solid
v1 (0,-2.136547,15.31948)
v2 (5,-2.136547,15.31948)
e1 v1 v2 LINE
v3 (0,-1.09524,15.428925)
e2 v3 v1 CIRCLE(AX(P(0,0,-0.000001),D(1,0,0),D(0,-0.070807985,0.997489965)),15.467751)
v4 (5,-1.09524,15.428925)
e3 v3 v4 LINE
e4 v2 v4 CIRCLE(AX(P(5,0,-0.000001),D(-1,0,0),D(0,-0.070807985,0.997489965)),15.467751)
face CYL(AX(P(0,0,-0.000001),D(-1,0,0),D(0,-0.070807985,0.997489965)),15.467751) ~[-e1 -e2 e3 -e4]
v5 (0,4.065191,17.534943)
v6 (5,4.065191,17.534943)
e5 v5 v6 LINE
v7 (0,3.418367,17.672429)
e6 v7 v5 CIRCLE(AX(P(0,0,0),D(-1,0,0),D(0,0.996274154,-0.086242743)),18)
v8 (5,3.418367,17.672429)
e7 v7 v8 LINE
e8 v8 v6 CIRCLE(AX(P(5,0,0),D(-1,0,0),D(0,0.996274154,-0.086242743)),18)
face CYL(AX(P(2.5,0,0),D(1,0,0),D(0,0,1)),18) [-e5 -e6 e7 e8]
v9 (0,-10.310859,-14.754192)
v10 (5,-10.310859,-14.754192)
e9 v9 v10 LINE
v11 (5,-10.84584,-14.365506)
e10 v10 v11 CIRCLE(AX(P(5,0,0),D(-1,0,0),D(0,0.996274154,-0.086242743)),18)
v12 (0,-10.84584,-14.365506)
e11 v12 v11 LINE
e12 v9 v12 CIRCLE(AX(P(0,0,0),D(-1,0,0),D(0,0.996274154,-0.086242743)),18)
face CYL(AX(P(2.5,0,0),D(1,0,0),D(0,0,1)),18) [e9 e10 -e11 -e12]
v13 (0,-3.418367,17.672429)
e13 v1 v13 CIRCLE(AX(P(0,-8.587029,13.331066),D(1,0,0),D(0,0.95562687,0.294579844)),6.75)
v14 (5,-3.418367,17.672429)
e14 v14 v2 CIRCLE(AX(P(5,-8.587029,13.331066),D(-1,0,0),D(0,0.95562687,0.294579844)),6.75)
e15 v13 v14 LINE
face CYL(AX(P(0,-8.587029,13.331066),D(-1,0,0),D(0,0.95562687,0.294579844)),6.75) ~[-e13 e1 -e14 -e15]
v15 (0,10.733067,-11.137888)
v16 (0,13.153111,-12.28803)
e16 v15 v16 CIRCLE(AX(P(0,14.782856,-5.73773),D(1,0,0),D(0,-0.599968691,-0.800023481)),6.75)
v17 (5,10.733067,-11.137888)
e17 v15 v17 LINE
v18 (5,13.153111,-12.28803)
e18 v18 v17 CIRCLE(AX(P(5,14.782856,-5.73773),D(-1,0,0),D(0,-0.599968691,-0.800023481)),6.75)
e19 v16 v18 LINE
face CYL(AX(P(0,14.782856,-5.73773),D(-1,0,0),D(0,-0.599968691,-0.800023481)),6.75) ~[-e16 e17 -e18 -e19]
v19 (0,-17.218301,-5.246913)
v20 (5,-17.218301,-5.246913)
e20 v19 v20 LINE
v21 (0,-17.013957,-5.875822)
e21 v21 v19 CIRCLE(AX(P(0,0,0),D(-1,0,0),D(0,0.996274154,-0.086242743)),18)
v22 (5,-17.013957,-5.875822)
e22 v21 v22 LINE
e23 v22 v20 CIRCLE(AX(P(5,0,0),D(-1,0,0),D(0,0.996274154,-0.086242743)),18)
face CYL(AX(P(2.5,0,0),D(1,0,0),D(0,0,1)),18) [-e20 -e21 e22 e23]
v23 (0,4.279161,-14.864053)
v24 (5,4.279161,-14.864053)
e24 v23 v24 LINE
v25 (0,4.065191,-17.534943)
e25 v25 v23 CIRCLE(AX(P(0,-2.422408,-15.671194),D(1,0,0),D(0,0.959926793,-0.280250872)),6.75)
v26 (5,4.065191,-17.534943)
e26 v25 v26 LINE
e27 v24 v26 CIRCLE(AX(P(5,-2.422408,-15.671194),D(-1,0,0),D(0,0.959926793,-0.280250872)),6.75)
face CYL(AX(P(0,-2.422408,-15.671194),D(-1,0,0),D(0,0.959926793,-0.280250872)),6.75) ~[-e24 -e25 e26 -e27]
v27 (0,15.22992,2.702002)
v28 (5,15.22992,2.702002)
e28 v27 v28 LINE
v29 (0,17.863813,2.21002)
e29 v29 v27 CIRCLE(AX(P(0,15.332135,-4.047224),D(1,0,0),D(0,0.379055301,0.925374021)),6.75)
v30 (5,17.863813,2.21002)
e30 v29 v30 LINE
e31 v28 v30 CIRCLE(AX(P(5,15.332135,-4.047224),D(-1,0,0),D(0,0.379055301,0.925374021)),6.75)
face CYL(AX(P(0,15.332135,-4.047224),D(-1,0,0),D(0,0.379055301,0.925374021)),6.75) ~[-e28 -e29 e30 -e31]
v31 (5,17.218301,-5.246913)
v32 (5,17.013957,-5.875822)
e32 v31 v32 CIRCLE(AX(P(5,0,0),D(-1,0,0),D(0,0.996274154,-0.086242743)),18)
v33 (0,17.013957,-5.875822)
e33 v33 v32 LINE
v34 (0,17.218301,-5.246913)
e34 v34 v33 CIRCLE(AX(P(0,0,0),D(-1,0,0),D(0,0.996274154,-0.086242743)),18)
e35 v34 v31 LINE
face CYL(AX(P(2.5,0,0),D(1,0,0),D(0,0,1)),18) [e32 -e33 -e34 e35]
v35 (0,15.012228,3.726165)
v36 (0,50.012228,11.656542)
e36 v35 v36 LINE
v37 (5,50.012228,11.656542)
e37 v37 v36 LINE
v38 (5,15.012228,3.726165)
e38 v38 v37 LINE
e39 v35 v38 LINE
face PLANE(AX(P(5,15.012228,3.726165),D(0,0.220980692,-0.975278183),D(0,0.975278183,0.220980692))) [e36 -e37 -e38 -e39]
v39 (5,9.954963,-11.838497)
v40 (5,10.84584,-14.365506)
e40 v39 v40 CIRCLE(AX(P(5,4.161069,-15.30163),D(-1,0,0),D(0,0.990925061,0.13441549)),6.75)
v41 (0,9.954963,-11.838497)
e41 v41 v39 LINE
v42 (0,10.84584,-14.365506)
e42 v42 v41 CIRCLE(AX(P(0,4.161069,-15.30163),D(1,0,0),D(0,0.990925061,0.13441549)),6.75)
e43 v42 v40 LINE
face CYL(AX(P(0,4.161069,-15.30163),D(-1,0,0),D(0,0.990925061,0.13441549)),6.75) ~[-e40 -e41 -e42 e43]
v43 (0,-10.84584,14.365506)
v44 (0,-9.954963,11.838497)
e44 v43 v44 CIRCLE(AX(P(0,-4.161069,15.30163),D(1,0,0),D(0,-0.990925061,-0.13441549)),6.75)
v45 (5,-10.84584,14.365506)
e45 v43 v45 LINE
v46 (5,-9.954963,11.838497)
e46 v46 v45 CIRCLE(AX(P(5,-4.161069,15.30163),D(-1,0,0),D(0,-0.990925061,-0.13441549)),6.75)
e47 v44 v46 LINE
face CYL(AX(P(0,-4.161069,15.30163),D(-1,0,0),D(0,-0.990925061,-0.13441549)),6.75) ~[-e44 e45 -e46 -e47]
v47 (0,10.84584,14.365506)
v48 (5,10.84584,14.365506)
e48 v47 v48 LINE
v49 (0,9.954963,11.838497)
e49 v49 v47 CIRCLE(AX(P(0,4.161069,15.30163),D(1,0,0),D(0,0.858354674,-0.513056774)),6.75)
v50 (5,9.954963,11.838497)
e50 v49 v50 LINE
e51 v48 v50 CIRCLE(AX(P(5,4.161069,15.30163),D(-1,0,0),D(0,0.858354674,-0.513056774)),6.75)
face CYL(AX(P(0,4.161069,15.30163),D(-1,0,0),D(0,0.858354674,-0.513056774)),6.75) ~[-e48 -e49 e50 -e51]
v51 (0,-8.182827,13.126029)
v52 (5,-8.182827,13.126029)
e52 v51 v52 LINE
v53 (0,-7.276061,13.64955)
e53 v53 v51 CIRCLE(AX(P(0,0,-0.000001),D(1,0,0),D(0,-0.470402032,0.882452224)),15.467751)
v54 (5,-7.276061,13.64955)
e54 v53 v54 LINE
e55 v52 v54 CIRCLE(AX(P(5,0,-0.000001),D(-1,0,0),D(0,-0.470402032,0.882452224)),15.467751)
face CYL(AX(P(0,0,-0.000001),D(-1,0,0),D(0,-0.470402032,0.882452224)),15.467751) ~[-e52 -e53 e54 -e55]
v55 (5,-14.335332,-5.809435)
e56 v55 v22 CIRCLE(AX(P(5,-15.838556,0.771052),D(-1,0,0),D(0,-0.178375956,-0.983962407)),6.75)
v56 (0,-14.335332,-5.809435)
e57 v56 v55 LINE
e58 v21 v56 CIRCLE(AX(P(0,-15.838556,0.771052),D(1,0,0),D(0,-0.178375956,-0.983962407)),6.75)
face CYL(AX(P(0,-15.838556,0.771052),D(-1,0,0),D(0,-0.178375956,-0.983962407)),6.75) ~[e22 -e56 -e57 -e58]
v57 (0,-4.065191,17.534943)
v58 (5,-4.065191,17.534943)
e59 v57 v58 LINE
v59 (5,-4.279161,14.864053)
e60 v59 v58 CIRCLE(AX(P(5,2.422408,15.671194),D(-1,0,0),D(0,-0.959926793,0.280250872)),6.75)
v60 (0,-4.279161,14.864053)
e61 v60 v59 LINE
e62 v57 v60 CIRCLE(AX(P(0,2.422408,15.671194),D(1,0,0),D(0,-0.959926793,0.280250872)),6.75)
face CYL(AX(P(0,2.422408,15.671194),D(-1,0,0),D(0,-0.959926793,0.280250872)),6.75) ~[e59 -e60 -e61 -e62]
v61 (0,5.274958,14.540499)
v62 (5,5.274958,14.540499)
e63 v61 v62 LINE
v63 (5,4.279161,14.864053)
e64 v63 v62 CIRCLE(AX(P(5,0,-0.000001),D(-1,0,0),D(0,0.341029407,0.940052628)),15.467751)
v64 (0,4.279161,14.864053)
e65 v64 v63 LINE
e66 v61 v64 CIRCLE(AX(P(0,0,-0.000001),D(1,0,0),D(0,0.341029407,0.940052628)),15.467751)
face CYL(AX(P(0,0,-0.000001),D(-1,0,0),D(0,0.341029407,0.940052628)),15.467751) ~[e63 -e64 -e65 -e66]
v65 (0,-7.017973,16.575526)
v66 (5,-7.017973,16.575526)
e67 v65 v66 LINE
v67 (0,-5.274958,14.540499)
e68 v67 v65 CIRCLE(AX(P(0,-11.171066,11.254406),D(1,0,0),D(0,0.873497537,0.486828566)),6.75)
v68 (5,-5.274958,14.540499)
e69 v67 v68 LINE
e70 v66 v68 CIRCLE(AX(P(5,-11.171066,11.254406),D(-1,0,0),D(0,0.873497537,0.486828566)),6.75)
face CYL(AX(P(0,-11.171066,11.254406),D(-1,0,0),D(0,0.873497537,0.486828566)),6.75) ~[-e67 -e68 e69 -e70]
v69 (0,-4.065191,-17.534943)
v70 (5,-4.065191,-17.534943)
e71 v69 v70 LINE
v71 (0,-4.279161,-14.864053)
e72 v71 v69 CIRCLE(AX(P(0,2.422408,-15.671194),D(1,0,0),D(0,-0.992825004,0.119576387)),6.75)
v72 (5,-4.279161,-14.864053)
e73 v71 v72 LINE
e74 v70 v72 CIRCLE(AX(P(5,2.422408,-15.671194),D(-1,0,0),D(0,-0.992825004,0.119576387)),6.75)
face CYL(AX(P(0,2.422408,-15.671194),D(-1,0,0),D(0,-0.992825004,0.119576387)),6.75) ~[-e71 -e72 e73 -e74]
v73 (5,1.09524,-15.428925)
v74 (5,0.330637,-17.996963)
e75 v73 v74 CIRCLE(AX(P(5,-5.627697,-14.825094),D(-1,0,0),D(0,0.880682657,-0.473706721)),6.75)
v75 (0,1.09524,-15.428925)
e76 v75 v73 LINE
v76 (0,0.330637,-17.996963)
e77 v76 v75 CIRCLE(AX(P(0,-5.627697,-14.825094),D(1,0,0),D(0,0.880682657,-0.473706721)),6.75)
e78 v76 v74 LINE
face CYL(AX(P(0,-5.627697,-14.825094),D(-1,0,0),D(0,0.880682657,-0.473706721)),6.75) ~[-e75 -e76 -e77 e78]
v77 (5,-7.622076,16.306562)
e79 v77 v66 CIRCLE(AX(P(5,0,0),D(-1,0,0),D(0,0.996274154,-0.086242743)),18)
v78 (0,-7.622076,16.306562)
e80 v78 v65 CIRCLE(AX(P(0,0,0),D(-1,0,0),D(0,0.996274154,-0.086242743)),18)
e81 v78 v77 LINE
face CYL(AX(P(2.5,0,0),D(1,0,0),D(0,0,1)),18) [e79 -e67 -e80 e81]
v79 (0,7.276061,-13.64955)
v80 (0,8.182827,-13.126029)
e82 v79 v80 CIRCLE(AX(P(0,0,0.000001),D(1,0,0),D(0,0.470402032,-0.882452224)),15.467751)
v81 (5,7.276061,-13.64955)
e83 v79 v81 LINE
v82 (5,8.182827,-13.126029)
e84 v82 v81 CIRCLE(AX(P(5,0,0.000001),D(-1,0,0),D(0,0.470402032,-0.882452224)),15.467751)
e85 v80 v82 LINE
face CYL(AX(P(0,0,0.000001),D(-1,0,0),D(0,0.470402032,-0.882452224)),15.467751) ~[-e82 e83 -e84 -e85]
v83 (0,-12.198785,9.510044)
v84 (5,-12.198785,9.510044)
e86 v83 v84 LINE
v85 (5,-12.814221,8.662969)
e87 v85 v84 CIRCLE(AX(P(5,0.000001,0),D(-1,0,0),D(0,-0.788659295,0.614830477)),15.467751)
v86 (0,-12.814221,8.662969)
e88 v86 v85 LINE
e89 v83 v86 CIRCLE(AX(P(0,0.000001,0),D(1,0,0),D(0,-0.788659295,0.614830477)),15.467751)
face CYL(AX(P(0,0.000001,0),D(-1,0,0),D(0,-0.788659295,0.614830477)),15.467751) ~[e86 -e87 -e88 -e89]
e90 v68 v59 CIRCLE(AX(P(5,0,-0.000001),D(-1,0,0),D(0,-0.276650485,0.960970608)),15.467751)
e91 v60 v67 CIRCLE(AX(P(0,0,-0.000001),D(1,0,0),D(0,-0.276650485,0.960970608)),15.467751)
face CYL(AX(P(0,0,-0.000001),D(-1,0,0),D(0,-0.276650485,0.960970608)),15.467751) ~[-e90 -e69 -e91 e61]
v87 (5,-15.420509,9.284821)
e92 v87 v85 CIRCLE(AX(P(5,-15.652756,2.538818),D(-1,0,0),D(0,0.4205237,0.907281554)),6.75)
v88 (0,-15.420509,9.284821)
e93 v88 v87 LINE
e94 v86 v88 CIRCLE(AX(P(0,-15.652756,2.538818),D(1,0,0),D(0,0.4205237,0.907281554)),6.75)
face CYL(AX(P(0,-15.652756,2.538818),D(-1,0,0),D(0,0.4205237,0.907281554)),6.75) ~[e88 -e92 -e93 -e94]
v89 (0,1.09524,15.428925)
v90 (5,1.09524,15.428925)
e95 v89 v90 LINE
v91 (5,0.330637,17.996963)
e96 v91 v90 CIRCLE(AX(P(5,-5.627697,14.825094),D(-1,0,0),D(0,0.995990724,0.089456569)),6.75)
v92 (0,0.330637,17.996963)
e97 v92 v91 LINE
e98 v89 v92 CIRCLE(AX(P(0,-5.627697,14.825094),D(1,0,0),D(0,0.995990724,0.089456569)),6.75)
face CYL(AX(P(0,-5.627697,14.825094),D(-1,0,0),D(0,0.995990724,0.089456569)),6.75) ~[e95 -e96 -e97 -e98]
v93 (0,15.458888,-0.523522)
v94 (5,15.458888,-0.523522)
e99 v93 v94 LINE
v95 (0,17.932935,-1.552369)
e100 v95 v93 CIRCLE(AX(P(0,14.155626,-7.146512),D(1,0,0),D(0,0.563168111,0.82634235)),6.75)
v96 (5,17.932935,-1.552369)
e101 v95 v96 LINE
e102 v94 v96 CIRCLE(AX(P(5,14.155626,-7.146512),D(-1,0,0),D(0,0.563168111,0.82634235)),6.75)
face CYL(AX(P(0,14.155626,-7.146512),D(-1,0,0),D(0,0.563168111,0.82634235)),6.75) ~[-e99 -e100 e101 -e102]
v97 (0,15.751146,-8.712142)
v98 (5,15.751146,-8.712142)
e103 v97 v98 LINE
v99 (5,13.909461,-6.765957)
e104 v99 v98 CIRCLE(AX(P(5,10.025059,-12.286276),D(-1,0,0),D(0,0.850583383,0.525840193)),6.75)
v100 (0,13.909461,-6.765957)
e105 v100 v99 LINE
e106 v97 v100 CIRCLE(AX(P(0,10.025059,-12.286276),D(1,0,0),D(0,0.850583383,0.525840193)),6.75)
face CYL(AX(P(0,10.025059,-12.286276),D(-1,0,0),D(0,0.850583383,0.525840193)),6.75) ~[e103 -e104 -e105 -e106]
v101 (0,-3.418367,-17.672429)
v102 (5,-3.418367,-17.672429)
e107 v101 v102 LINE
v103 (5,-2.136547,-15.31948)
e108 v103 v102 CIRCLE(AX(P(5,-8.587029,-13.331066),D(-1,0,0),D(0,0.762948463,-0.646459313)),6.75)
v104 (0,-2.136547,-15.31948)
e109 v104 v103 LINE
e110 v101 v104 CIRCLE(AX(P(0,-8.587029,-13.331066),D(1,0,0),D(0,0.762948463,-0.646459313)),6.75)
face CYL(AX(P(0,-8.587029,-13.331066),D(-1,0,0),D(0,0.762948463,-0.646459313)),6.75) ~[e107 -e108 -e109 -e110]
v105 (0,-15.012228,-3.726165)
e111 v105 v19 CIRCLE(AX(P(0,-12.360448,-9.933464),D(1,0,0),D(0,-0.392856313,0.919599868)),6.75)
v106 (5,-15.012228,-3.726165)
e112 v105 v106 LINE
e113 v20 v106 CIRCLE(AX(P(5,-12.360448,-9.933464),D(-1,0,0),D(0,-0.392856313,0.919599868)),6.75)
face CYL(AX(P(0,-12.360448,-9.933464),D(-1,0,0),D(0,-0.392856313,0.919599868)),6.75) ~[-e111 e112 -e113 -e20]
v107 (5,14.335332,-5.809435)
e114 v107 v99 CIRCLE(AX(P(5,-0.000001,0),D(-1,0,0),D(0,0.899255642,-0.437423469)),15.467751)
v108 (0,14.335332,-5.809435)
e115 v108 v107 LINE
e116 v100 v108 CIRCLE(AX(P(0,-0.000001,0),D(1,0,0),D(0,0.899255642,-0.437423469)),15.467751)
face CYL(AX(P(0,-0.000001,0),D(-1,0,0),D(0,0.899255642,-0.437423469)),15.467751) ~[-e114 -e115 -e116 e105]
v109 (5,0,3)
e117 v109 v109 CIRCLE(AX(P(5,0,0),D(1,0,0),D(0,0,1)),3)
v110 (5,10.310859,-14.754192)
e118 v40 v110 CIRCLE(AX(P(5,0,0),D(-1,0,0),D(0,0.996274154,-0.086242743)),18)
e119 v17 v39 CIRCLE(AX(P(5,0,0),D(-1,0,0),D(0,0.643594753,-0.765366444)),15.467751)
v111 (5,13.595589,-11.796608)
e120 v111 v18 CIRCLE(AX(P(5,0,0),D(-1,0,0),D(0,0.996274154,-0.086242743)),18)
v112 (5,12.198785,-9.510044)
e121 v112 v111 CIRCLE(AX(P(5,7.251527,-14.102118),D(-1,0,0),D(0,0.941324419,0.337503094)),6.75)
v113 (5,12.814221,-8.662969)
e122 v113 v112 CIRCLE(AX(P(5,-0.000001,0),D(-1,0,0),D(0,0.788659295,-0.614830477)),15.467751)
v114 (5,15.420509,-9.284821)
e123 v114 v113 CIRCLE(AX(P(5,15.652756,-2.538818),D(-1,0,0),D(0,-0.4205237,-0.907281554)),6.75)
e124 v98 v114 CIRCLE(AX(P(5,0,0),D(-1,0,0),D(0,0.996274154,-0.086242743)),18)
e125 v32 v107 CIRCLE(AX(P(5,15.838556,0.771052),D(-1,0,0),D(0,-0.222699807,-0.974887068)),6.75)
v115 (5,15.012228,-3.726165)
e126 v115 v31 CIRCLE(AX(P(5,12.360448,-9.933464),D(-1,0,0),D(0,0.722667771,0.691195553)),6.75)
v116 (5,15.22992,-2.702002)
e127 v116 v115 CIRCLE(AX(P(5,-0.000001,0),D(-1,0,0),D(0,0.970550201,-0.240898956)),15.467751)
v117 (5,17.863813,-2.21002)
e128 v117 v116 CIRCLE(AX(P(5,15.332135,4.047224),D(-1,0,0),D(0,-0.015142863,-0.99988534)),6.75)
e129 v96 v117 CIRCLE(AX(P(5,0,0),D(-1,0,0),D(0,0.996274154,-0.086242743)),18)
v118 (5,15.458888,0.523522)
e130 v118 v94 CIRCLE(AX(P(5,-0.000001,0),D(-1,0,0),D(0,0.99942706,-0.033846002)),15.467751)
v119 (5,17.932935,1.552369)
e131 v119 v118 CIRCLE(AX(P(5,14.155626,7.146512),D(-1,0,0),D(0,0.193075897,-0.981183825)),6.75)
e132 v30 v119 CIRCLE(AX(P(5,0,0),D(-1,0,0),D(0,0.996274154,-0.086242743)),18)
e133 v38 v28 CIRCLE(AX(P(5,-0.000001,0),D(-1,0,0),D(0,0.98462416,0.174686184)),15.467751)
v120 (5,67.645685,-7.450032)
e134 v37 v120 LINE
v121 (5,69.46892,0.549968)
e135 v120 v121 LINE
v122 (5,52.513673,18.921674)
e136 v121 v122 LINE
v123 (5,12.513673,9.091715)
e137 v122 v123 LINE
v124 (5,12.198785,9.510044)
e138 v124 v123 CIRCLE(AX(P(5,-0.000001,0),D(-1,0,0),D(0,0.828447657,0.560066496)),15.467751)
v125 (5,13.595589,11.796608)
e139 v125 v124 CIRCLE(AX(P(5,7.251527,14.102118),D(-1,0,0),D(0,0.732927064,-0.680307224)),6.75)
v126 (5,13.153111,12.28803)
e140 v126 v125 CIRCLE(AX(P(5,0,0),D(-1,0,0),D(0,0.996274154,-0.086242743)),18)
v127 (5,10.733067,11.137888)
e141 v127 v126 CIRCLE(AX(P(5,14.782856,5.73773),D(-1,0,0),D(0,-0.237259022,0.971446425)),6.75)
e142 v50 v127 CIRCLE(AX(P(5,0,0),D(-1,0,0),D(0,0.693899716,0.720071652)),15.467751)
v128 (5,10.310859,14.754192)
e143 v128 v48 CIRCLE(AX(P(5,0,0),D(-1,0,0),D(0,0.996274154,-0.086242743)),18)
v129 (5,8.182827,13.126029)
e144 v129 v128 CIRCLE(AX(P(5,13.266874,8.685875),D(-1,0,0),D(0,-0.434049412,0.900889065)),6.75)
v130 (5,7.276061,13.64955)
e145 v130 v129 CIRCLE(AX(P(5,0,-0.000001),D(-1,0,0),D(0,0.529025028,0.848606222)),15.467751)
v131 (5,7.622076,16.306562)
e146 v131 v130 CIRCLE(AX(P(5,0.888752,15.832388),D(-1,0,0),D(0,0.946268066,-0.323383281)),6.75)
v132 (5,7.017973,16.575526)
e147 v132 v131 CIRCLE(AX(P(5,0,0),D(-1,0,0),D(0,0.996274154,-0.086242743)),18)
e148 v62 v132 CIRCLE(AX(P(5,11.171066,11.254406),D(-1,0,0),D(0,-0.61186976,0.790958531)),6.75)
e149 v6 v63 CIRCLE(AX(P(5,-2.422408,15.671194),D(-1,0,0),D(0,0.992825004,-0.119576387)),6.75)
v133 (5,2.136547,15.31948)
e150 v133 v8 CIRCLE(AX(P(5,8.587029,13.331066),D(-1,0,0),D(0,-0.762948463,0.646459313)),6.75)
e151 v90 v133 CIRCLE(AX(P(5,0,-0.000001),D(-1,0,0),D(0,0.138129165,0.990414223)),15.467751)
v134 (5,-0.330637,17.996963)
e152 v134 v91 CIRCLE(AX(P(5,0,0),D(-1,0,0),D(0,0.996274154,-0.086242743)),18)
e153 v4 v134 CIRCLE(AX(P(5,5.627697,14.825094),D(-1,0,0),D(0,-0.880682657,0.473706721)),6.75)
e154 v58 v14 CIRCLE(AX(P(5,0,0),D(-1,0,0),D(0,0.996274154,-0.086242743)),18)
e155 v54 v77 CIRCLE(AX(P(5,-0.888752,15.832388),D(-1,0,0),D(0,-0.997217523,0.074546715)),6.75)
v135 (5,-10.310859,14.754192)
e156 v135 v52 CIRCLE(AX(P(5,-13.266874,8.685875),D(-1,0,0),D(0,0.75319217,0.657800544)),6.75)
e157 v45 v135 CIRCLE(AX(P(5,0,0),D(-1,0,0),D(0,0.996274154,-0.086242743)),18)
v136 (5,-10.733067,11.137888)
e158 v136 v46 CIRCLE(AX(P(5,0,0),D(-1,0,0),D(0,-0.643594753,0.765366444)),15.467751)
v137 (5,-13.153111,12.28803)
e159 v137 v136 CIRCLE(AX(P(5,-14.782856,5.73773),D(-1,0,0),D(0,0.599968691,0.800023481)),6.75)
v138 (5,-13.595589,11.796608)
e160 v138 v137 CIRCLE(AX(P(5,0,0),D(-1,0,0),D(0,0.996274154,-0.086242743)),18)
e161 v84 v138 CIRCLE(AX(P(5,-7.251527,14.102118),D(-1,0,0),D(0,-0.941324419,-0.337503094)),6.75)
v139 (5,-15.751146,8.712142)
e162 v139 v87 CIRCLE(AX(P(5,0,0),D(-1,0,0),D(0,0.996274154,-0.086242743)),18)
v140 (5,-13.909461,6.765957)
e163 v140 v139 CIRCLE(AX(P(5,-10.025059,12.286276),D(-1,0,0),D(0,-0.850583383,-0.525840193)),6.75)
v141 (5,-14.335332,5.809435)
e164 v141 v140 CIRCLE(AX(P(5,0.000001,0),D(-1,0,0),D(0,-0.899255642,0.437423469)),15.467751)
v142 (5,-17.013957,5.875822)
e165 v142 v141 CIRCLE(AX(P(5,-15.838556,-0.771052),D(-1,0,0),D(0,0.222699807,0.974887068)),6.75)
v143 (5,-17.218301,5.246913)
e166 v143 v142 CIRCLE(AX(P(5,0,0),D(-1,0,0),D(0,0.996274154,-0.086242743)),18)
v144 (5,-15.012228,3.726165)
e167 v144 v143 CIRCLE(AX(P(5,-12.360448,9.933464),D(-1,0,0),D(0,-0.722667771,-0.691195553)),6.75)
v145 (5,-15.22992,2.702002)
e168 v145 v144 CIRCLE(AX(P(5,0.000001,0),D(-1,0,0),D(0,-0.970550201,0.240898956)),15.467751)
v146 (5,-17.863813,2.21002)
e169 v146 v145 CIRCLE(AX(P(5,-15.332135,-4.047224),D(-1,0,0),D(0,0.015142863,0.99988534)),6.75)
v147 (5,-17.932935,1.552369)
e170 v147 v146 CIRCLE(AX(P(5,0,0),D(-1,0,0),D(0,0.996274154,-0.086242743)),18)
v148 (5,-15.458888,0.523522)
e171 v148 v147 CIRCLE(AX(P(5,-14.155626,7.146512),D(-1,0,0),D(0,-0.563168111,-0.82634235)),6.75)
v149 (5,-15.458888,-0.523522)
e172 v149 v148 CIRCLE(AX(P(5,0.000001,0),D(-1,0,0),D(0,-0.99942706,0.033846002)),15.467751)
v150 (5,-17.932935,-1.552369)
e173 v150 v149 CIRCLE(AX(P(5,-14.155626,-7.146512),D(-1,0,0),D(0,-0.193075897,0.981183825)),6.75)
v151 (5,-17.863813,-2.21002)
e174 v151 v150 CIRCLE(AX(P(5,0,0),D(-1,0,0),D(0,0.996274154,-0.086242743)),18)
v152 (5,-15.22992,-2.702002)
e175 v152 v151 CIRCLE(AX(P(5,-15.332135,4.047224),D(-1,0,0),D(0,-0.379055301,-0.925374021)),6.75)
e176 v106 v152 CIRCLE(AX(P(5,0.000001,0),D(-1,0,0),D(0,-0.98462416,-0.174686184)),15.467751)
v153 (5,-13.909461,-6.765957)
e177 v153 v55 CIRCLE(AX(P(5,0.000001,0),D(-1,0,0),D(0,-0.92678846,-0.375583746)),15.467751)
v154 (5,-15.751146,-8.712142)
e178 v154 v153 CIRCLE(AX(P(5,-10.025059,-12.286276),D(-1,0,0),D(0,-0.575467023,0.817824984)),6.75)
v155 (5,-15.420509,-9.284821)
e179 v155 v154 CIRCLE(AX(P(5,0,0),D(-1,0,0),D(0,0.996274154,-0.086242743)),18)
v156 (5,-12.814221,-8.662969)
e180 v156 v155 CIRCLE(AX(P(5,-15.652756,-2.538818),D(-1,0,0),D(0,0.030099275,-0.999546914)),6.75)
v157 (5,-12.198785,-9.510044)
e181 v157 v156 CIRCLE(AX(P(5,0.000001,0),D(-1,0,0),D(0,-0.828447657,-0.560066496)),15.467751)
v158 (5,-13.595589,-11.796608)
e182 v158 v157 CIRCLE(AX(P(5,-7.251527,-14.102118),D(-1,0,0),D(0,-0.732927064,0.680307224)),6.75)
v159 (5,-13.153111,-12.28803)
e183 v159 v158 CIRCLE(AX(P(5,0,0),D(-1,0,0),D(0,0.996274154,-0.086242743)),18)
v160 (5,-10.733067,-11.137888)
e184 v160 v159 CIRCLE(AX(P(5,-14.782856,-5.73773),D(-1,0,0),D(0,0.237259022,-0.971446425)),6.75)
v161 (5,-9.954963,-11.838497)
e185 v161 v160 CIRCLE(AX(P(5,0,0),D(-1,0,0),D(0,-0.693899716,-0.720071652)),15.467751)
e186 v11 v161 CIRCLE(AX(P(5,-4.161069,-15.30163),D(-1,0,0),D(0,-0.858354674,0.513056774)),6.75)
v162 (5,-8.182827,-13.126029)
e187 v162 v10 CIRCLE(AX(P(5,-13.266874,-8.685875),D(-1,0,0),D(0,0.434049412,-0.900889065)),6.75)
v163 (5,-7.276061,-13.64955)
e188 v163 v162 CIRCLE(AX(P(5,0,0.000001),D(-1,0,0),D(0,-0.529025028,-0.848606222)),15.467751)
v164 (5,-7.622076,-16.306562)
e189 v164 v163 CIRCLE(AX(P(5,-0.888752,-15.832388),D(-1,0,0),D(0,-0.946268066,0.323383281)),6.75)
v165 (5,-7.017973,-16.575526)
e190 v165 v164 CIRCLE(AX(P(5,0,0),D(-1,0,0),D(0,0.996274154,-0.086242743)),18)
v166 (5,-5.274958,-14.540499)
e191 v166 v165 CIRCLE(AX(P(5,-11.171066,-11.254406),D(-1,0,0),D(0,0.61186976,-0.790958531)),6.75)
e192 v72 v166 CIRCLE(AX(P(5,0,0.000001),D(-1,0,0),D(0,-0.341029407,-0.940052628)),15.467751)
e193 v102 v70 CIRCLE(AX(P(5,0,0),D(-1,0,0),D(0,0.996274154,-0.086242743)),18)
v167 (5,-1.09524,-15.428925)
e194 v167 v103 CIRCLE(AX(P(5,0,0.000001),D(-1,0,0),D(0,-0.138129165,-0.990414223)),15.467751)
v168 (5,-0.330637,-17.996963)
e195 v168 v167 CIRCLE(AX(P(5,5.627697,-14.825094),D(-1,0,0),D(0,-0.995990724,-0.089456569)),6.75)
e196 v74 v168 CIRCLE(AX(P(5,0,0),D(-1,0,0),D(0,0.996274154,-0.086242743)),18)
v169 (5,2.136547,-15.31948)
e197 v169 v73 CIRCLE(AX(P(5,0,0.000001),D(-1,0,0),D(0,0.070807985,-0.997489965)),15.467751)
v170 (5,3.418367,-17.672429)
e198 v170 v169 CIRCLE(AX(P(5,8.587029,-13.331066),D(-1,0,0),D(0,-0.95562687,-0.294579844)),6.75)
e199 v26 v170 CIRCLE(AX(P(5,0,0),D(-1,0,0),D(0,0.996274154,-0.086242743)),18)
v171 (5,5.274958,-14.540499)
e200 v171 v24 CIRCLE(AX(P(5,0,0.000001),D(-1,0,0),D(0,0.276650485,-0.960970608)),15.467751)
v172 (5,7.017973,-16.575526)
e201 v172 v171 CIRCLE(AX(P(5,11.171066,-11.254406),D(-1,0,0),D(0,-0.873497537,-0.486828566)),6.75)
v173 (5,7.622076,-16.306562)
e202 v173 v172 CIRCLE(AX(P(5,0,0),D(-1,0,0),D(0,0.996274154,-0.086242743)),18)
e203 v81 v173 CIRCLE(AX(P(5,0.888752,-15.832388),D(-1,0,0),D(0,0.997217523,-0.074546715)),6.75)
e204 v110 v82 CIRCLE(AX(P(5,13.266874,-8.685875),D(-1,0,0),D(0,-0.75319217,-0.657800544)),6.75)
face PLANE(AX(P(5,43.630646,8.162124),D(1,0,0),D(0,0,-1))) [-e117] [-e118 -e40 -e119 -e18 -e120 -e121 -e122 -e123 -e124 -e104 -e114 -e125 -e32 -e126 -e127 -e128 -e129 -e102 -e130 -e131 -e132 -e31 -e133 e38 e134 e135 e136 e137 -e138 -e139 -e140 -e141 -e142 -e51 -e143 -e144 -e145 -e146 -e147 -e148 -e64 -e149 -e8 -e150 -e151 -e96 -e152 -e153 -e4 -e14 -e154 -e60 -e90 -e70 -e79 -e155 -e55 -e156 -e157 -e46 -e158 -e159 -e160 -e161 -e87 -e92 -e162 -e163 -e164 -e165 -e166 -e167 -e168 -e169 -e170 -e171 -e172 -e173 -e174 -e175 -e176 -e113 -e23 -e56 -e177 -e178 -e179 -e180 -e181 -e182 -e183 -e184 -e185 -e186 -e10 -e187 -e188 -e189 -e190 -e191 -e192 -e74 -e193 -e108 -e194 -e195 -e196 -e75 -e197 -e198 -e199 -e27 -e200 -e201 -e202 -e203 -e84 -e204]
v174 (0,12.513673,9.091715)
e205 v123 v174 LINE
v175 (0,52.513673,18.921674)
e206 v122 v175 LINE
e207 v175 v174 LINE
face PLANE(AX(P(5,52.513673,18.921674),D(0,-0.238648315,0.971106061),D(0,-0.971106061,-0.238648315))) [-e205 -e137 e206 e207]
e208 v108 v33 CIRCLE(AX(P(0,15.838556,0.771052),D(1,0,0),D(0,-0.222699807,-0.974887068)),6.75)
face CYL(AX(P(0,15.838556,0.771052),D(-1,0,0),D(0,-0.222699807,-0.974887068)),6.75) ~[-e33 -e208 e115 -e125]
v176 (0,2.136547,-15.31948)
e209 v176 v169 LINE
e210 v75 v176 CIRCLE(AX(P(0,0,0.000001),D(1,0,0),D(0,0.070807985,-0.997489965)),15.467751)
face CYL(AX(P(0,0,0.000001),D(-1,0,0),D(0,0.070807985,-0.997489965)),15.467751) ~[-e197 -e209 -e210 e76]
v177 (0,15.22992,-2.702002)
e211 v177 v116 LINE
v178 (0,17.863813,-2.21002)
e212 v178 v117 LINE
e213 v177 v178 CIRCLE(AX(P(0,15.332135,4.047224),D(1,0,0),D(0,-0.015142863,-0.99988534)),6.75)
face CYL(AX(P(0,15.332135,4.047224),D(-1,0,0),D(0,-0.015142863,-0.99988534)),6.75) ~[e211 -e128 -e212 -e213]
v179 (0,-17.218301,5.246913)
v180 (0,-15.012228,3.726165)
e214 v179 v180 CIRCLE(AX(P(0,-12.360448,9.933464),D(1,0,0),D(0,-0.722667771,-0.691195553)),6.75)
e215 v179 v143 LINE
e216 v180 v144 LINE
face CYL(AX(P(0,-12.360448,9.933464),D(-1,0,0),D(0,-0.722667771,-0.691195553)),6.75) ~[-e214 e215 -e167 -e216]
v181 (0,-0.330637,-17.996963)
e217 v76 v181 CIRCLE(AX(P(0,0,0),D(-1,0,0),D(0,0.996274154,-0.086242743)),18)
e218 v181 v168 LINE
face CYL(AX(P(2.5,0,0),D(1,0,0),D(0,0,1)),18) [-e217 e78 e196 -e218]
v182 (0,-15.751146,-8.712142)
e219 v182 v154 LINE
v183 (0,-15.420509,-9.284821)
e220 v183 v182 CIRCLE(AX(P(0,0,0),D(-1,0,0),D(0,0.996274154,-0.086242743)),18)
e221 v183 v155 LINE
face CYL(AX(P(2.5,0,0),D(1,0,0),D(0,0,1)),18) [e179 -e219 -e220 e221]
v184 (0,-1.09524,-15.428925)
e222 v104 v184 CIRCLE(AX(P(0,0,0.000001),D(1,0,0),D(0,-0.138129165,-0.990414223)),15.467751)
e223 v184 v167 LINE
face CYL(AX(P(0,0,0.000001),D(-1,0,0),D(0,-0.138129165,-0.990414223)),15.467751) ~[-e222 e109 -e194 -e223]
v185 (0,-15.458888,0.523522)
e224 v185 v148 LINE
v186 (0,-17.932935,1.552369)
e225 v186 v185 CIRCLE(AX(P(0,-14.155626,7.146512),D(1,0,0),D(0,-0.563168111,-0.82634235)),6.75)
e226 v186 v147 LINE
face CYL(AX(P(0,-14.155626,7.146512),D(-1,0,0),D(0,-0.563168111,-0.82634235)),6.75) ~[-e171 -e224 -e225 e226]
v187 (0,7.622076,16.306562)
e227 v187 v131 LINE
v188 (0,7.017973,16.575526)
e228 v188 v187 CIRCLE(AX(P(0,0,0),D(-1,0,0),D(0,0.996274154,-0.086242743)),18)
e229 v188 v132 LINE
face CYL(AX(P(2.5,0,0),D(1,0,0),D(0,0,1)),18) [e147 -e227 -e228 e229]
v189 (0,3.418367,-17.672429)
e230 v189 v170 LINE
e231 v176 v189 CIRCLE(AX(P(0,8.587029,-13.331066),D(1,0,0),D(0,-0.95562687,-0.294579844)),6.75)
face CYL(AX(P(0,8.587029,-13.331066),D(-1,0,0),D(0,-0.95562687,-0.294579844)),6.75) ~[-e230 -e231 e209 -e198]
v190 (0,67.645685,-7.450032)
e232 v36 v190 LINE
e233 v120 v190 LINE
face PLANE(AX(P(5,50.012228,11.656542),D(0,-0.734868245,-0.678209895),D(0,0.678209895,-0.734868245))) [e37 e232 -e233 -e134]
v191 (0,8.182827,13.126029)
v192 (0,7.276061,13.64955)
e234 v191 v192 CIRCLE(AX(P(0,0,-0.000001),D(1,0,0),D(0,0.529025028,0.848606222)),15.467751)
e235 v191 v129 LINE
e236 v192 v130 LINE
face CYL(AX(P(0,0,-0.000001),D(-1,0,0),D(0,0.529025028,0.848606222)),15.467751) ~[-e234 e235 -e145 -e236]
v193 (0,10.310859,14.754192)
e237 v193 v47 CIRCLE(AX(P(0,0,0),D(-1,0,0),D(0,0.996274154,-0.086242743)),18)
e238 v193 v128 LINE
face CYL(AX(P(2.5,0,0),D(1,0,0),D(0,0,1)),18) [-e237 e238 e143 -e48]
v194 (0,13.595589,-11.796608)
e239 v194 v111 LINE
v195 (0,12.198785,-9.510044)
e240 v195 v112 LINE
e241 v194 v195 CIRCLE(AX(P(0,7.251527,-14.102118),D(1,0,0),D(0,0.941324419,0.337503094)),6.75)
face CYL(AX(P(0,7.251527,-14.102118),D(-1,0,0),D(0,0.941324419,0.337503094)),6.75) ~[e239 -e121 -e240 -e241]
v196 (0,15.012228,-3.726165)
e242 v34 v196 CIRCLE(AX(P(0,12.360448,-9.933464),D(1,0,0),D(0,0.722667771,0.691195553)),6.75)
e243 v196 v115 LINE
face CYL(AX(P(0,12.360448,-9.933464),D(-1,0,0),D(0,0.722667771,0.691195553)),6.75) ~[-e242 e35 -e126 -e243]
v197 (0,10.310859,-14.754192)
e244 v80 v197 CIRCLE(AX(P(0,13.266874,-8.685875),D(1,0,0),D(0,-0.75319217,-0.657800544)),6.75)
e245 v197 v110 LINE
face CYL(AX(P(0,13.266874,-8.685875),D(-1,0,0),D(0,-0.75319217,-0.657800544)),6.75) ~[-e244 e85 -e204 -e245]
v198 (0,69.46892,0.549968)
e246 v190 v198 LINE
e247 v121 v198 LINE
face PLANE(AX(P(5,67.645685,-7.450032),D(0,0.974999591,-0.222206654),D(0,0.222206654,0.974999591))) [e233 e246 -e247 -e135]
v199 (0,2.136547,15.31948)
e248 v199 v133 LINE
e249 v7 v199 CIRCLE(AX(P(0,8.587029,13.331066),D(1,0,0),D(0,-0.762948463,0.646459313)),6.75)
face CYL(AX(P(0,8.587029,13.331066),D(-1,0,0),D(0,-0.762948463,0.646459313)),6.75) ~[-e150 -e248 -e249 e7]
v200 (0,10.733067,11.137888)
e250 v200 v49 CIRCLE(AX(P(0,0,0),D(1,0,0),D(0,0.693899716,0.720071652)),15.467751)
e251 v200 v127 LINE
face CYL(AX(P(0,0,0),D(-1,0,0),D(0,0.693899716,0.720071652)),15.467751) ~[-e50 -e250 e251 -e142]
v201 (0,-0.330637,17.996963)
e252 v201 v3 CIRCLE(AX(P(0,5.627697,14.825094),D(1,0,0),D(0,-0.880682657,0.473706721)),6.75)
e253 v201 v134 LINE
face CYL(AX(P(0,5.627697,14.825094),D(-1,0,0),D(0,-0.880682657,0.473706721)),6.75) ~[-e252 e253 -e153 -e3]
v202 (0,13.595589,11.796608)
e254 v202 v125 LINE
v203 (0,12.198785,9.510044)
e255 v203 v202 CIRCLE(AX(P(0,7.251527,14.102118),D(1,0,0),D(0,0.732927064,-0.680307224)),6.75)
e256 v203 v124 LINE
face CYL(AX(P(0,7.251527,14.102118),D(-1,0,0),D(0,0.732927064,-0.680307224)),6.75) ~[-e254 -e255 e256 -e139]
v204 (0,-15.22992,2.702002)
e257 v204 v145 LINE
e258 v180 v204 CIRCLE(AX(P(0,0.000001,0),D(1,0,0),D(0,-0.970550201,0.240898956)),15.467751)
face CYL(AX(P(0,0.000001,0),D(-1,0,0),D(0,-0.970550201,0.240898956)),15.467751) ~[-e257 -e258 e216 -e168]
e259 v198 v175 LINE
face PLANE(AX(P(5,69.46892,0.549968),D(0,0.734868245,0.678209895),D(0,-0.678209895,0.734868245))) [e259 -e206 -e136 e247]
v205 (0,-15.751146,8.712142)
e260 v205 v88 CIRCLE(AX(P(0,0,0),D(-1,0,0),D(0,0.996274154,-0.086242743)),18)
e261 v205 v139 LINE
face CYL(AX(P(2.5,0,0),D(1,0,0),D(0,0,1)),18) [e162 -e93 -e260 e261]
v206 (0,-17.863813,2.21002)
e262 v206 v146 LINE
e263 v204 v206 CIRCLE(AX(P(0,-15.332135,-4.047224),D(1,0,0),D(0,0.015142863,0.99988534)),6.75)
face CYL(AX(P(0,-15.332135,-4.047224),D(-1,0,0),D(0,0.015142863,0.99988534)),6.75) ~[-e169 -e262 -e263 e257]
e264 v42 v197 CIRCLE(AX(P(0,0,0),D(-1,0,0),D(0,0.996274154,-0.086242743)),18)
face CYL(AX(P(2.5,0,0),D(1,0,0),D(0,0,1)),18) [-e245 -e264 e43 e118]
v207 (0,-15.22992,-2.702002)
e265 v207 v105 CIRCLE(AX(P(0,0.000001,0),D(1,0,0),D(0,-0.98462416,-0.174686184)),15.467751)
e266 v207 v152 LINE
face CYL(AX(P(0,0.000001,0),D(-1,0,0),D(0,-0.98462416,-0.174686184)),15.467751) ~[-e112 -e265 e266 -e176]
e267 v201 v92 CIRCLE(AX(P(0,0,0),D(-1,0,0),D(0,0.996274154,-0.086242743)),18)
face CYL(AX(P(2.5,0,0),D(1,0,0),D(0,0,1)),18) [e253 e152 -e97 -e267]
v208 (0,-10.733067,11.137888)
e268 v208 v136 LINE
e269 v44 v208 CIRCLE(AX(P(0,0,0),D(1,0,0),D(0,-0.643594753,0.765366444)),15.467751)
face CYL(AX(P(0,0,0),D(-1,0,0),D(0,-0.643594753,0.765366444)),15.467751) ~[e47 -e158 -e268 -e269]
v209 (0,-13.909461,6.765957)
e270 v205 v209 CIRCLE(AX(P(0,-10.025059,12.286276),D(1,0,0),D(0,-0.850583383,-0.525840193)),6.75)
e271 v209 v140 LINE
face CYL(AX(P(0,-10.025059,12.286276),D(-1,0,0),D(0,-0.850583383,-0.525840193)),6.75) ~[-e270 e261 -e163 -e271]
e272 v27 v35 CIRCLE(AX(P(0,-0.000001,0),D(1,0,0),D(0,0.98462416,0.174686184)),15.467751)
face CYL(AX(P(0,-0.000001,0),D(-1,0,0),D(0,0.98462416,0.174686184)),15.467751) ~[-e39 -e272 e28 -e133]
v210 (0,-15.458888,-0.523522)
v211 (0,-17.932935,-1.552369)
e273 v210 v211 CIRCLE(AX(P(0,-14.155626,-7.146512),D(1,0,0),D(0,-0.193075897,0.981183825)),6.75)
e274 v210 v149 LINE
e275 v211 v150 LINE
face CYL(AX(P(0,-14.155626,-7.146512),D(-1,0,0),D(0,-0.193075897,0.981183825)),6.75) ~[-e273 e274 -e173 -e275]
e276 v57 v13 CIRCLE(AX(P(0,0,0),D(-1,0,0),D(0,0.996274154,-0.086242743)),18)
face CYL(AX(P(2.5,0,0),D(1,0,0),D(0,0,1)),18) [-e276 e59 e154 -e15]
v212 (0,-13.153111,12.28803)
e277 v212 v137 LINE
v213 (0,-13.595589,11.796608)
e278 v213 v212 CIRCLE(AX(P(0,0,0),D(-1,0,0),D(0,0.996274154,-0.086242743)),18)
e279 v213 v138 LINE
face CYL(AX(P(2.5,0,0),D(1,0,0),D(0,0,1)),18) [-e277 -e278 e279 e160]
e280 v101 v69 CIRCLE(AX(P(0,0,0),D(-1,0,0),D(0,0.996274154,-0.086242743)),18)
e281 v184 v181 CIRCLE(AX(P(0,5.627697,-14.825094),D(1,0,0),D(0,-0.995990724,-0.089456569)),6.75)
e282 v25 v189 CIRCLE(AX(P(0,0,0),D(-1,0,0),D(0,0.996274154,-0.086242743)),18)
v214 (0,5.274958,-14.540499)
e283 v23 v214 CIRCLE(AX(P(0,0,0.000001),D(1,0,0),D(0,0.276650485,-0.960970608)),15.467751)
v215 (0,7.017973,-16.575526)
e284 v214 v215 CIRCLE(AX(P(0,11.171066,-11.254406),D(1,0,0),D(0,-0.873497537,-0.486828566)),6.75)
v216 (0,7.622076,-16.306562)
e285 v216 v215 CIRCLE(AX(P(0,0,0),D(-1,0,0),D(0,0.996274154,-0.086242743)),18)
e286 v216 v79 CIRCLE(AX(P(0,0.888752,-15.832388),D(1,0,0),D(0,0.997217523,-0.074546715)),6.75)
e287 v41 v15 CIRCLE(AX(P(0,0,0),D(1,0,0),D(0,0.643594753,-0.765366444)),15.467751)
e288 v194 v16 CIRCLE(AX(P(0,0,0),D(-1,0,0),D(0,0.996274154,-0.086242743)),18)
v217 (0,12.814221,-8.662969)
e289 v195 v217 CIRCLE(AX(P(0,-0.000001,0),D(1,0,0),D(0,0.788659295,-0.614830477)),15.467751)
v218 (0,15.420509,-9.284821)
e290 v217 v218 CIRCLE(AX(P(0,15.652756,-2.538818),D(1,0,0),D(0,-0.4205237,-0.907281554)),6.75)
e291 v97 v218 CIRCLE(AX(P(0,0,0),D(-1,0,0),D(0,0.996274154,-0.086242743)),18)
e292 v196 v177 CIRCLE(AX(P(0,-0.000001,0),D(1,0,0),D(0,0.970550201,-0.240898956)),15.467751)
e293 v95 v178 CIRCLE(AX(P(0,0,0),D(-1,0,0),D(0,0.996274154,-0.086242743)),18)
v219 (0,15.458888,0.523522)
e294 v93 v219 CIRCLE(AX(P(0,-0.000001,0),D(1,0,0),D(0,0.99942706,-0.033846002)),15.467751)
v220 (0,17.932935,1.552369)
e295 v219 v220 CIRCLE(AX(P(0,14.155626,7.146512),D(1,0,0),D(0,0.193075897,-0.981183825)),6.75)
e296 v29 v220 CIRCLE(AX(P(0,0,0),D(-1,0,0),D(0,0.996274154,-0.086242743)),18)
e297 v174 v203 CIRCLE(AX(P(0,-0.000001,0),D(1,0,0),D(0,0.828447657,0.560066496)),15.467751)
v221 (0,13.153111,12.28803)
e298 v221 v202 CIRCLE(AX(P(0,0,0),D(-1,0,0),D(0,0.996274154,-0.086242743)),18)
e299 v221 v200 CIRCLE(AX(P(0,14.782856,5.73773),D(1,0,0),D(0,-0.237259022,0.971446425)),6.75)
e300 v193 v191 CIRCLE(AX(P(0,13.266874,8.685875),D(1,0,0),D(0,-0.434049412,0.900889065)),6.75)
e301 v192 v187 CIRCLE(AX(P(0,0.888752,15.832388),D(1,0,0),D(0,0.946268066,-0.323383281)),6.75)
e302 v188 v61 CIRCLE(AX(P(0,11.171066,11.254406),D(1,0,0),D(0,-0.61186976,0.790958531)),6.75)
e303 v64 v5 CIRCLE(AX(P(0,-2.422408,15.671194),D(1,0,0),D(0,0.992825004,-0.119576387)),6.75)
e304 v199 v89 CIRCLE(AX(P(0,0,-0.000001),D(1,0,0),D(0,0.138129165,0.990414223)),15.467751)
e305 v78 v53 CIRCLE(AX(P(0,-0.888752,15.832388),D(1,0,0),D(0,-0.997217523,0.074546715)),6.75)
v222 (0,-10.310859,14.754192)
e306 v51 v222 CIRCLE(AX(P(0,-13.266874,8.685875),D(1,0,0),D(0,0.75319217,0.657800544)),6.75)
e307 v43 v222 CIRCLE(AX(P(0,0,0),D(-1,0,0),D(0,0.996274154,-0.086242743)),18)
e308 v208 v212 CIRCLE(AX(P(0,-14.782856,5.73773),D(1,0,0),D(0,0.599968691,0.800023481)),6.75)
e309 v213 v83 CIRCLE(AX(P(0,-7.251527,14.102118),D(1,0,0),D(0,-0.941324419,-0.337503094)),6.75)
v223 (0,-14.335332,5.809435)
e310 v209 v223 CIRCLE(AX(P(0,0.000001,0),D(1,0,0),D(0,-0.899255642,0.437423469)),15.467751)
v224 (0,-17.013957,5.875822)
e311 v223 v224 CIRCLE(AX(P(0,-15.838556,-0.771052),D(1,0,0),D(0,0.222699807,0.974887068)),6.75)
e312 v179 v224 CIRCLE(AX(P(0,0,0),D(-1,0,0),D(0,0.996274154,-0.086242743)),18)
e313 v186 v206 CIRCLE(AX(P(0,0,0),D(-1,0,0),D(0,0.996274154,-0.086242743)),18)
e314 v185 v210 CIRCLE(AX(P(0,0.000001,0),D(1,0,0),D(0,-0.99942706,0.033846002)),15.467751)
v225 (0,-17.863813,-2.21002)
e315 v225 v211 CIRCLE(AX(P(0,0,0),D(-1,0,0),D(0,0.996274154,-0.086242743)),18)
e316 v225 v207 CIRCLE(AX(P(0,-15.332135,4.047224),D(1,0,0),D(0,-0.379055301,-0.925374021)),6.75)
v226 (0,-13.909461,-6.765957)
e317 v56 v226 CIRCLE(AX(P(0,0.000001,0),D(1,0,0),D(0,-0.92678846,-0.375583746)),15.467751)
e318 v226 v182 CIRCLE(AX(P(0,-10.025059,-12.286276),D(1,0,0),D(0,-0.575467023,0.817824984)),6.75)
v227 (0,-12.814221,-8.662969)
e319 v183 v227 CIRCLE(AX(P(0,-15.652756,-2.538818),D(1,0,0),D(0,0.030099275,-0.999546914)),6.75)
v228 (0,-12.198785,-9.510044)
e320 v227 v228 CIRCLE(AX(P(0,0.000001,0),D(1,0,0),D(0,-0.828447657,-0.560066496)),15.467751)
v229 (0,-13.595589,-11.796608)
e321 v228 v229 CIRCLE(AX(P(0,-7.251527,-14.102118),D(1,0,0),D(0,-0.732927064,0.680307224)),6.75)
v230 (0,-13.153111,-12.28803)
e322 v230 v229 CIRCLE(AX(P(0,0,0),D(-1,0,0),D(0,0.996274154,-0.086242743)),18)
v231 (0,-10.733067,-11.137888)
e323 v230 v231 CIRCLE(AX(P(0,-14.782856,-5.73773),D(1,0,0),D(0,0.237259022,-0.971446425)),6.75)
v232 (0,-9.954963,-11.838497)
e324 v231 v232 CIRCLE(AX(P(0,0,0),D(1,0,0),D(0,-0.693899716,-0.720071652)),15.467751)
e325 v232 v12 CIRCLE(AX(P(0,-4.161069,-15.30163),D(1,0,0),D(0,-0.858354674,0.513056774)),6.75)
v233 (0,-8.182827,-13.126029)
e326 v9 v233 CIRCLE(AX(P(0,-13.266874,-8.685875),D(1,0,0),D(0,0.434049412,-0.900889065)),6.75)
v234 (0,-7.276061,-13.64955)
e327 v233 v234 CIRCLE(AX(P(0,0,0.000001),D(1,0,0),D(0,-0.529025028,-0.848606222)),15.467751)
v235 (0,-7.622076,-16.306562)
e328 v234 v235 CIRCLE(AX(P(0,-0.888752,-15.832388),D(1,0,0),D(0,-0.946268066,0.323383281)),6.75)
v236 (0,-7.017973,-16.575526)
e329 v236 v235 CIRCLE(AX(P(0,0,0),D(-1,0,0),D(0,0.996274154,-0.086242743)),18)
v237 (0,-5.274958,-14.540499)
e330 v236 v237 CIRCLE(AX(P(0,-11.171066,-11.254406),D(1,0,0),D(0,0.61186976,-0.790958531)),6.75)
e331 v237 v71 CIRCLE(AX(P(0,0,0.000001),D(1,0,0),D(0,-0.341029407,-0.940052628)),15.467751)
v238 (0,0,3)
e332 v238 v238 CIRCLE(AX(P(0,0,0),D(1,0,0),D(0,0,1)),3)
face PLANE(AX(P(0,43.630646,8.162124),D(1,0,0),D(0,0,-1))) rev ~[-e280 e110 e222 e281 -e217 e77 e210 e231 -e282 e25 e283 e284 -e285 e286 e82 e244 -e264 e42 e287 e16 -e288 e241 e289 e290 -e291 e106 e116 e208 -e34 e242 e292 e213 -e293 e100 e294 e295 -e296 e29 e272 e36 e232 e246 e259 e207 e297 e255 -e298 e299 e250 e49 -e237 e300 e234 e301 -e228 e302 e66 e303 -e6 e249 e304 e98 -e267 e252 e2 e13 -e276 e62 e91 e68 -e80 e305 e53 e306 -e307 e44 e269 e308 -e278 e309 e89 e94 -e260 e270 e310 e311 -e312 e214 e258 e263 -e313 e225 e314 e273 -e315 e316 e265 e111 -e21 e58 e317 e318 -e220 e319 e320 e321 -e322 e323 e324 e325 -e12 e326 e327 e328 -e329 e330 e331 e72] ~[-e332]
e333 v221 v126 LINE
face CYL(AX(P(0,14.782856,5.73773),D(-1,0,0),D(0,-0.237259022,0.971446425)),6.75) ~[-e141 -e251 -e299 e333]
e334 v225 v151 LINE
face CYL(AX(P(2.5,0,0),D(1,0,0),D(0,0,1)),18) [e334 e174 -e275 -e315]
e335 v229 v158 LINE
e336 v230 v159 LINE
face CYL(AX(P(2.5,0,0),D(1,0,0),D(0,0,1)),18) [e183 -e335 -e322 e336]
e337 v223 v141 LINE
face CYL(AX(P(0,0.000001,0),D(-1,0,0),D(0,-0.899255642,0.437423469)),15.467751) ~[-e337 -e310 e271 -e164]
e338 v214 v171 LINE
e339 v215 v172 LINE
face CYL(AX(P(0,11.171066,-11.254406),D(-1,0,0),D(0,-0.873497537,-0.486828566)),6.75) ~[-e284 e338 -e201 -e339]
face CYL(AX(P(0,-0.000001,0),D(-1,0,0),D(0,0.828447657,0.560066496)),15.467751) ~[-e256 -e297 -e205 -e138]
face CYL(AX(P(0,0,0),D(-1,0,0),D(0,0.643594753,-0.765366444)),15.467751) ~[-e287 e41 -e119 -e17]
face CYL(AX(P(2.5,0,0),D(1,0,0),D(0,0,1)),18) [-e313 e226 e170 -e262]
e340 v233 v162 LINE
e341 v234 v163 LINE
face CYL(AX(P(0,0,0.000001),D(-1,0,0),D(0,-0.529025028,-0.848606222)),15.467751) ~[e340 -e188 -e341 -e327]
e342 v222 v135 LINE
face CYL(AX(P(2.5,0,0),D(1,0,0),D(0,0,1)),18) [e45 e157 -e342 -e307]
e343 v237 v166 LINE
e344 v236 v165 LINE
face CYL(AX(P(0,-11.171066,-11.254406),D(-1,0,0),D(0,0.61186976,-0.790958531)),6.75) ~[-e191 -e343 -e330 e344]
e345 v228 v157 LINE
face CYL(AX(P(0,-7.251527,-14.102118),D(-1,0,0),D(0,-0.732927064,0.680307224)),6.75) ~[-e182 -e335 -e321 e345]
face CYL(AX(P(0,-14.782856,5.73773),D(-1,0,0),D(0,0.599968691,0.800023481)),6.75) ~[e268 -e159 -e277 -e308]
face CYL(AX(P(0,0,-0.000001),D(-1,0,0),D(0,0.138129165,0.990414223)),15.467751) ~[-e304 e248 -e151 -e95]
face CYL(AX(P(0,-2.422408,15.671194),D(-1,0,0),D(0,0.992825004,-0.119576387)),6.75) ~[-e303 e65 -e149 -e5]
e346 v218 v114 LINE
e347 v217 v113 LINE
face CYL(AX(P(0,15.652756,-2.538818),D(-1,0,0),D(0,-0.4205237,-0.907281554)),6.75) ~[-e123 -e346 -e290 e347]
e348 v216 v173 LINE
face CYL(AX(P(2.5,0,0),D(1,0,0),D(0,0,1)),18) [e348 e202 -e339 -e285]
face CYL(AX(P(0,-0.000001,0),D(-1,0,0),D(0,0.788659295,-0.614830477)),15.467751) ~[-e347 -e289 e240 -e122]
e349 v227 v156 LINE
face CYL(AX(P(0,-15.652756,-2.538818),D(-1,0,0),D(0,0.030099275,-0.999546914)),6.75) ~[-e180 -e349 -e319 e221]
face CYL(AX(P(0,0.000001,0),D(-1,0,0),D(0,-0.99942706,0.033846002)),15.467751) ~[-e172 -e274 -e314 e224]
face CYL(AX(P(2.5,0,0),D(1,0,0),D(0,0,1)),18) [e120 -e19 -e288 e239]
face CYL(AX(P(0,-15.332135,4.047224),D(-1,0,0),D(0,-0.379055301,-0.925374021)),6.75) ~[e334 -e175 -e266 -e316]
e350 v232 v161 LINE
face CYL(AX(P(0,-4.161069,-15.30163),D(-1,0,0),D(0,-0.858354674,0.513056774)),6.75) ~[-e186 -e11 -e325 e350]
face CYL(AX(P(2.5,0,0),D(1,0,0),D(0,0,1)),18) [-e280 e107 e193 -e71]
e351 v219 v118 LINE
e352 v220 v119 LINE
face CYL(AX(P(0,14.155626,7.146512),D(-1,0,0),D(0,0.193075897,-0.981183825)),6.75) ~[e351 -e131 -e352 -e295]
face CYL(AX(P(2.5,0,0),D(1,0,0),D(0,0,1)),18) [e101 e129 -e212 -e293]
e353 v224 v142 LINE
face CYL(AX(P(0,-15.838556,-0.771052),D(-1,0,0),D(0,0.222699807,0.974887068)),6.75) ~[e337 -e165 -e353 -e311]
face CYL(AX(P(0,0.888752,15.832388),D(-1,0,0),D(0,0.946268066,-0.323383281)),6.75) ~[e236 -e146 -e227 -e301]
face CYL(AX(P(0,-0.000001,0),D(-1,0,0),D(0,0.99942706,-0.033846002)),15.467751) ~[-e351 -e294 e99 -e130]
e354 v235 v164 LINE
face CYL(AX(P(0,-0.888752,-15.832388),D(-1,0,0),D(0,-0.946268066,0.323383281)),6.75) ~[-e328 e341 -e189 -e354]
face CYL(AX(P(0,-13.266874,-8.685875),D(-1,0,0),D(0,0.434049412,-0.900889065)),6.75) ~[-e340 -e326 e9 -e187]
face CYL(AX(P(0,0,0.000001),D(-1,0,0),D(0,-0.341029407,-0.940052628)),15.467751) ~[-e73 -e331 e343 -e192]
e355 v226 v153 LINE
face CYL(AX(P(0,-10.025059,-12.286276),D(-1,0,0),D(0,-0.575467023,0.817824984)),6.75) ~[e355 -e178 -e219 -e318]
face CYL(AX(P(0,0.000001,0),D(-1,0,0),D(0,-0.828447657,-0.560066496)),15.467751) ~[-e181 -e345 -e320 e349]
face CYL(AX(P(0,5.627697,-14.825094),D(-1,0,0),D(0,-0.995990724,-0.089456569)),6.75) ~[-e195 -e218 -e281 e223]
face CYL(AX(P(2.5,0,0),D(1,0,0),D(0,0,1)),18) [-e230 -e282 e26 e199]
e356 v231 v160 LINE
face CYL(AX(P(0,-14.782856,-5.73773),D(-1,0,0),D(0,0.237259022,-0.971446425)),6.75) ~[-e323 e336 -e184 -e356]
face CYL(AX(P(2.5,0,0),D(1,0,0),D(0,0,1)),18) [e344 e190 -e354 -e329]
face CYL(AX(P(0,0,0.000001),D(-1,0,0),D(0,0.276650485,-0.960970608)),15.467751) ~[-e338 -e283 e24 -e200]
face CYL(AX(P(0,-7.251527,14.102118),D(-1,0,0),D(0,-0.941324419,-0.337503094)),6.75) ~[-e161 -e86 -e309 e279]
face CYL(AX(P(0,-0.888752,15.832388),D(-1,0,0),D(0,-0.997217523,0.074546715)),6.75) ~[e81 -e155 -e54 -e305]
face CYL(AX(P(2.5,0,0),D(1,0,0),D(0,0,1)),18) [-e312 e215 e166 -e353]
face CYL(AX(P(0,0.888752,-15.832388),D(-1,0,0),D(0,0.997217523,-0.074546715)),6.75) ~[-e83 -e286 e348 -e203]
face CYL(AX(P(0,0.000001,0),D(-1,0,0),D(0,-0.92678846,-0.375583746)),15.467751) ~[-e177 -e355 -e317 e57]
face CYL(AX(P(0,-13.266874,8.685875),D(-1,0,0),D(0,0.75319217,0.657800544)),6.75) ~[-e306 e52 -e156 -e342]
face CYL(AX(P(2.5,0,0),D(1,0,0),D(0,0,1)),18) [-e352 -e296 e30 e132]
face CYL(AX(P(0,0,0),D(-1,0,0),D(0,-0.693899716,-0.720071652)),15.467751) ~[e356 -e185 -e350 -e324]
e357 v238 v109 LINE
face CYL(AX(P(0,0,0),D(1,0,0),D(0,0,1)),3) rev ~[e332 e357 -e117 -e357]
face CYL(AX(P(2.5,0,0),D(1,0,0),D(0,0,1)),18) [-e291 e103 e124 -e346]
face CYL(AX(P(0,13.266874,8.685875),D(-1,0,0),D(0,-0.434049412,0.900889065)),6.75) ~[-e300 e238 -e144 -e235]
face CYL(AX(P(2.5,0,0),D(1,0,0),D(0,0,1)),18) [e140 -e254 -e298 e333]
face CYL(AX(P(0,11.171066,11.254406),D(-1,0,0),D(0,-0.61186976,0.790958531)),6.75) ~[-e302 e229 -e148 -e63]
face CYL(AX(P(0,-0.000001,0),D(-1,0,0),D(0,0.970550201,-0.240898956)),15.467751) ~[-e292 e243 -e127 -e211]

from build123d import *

# Parameters (mm, degrees)
BASPROSKE_W        = 5
BASPROSKE_H        = 18
TOOTHCUT_DEPTH     = 26.942243542
TEETHCUTS_COUNT    = 30
BORSKE_R           = 3
BORE_DEPTH         = 50.0000508
BOSS_EXTRU_1_DEPTH = 5


with BuildPart() as part:
    # BasProSke → Base-Revolve (revolve)
    with BuildSketch(Plane(origin=(0, 0, 0), x_dir=(1, 0, 0), z_dir=(0, 1, 0)), mode=Mode.PRIVATE) as base_revolve_sk:
        with Locations((2.5, 9)):
            Rectangle(BASPROSKE_W, BASPROSKE_H)
    revolve(base_revolve_sk.sketch.rotate(Axis((-10, 0, 0), (1, 0, 0)), 180), axis=Axis((-10, 0, 0), (1, 0, 0)))

    # TooCutSke → ToothCut (cut, through all)
    with BuildSketch(Plane(origin=(0, 0, 0), x_dir=(0, 0, -1), z_dir=(1, 0, 0))):
        with BuildLine():
            ThreePointArc((0.523521522, 15.458887906), (0, 15.46775), (-0.523521522, 15.458887906))
            ThreePointArc((-0.523521522, 15.458887906), (-0.919551256, 16.760900189), (-1.568701479, 17.957010353))
            ThreePointArc((-1.568701479, 17.957010353), (0, 18.0254), (1.568701479, 17.957010353))
            ThreePointArc((1.568701479, 17.957010353), (0.919551256, 16.760900189), (0.523521522, 15.458887906))
        make_face()
    toothcut = extrude(amount=TOOTHCUT_DEPTH, mode=Mode.SUBTRACT)

    # TeethCuts: ToothCut ×30 about axis
    teethcuts_axis = Axis((0, 0, 0), (1, 0, 0))
    for i in range(1, TEETHCUTS_COUNT):
        add(toothcut.rotate(teethcuts_axis, i * 360 / TEETHCUTS_COUNT), mode=Mode.SUBTRACT)

    # BorSke → Bore (cut, symmetric)
    with BuildSketch(Plane(origin=(0, 0, 0), x_dir=(0, 0, -1), z_dir=(1, 0, 0))):
        with Locations(Location((0, 0, 0), (0, 0, 180))):
            Circle(BORSKE_R)
    extrude(amount=BORE_DEPTH, both=True, mode=Mode.SUBTRACT)

    # Esquisse2 → Boss.-Extru.1 (add)
    with BuildSketch(Plane(origin=(5, 0, 0), x_dir=(0, 0, -1), z_dir=(1, 0, 0))):
        Polygon((-3.726164843, 15.01222787), (-11.656542396, 50.01222787), (7.45003198, 67.64568515), (-0.54996802, 69.468919999), (-18.921674151, 52.513672615), (-9.091715336, 12.513672615), align=None)
    extrude(amount=-BOSS_EXTRU_1_DEPTH)


solid = part.part
